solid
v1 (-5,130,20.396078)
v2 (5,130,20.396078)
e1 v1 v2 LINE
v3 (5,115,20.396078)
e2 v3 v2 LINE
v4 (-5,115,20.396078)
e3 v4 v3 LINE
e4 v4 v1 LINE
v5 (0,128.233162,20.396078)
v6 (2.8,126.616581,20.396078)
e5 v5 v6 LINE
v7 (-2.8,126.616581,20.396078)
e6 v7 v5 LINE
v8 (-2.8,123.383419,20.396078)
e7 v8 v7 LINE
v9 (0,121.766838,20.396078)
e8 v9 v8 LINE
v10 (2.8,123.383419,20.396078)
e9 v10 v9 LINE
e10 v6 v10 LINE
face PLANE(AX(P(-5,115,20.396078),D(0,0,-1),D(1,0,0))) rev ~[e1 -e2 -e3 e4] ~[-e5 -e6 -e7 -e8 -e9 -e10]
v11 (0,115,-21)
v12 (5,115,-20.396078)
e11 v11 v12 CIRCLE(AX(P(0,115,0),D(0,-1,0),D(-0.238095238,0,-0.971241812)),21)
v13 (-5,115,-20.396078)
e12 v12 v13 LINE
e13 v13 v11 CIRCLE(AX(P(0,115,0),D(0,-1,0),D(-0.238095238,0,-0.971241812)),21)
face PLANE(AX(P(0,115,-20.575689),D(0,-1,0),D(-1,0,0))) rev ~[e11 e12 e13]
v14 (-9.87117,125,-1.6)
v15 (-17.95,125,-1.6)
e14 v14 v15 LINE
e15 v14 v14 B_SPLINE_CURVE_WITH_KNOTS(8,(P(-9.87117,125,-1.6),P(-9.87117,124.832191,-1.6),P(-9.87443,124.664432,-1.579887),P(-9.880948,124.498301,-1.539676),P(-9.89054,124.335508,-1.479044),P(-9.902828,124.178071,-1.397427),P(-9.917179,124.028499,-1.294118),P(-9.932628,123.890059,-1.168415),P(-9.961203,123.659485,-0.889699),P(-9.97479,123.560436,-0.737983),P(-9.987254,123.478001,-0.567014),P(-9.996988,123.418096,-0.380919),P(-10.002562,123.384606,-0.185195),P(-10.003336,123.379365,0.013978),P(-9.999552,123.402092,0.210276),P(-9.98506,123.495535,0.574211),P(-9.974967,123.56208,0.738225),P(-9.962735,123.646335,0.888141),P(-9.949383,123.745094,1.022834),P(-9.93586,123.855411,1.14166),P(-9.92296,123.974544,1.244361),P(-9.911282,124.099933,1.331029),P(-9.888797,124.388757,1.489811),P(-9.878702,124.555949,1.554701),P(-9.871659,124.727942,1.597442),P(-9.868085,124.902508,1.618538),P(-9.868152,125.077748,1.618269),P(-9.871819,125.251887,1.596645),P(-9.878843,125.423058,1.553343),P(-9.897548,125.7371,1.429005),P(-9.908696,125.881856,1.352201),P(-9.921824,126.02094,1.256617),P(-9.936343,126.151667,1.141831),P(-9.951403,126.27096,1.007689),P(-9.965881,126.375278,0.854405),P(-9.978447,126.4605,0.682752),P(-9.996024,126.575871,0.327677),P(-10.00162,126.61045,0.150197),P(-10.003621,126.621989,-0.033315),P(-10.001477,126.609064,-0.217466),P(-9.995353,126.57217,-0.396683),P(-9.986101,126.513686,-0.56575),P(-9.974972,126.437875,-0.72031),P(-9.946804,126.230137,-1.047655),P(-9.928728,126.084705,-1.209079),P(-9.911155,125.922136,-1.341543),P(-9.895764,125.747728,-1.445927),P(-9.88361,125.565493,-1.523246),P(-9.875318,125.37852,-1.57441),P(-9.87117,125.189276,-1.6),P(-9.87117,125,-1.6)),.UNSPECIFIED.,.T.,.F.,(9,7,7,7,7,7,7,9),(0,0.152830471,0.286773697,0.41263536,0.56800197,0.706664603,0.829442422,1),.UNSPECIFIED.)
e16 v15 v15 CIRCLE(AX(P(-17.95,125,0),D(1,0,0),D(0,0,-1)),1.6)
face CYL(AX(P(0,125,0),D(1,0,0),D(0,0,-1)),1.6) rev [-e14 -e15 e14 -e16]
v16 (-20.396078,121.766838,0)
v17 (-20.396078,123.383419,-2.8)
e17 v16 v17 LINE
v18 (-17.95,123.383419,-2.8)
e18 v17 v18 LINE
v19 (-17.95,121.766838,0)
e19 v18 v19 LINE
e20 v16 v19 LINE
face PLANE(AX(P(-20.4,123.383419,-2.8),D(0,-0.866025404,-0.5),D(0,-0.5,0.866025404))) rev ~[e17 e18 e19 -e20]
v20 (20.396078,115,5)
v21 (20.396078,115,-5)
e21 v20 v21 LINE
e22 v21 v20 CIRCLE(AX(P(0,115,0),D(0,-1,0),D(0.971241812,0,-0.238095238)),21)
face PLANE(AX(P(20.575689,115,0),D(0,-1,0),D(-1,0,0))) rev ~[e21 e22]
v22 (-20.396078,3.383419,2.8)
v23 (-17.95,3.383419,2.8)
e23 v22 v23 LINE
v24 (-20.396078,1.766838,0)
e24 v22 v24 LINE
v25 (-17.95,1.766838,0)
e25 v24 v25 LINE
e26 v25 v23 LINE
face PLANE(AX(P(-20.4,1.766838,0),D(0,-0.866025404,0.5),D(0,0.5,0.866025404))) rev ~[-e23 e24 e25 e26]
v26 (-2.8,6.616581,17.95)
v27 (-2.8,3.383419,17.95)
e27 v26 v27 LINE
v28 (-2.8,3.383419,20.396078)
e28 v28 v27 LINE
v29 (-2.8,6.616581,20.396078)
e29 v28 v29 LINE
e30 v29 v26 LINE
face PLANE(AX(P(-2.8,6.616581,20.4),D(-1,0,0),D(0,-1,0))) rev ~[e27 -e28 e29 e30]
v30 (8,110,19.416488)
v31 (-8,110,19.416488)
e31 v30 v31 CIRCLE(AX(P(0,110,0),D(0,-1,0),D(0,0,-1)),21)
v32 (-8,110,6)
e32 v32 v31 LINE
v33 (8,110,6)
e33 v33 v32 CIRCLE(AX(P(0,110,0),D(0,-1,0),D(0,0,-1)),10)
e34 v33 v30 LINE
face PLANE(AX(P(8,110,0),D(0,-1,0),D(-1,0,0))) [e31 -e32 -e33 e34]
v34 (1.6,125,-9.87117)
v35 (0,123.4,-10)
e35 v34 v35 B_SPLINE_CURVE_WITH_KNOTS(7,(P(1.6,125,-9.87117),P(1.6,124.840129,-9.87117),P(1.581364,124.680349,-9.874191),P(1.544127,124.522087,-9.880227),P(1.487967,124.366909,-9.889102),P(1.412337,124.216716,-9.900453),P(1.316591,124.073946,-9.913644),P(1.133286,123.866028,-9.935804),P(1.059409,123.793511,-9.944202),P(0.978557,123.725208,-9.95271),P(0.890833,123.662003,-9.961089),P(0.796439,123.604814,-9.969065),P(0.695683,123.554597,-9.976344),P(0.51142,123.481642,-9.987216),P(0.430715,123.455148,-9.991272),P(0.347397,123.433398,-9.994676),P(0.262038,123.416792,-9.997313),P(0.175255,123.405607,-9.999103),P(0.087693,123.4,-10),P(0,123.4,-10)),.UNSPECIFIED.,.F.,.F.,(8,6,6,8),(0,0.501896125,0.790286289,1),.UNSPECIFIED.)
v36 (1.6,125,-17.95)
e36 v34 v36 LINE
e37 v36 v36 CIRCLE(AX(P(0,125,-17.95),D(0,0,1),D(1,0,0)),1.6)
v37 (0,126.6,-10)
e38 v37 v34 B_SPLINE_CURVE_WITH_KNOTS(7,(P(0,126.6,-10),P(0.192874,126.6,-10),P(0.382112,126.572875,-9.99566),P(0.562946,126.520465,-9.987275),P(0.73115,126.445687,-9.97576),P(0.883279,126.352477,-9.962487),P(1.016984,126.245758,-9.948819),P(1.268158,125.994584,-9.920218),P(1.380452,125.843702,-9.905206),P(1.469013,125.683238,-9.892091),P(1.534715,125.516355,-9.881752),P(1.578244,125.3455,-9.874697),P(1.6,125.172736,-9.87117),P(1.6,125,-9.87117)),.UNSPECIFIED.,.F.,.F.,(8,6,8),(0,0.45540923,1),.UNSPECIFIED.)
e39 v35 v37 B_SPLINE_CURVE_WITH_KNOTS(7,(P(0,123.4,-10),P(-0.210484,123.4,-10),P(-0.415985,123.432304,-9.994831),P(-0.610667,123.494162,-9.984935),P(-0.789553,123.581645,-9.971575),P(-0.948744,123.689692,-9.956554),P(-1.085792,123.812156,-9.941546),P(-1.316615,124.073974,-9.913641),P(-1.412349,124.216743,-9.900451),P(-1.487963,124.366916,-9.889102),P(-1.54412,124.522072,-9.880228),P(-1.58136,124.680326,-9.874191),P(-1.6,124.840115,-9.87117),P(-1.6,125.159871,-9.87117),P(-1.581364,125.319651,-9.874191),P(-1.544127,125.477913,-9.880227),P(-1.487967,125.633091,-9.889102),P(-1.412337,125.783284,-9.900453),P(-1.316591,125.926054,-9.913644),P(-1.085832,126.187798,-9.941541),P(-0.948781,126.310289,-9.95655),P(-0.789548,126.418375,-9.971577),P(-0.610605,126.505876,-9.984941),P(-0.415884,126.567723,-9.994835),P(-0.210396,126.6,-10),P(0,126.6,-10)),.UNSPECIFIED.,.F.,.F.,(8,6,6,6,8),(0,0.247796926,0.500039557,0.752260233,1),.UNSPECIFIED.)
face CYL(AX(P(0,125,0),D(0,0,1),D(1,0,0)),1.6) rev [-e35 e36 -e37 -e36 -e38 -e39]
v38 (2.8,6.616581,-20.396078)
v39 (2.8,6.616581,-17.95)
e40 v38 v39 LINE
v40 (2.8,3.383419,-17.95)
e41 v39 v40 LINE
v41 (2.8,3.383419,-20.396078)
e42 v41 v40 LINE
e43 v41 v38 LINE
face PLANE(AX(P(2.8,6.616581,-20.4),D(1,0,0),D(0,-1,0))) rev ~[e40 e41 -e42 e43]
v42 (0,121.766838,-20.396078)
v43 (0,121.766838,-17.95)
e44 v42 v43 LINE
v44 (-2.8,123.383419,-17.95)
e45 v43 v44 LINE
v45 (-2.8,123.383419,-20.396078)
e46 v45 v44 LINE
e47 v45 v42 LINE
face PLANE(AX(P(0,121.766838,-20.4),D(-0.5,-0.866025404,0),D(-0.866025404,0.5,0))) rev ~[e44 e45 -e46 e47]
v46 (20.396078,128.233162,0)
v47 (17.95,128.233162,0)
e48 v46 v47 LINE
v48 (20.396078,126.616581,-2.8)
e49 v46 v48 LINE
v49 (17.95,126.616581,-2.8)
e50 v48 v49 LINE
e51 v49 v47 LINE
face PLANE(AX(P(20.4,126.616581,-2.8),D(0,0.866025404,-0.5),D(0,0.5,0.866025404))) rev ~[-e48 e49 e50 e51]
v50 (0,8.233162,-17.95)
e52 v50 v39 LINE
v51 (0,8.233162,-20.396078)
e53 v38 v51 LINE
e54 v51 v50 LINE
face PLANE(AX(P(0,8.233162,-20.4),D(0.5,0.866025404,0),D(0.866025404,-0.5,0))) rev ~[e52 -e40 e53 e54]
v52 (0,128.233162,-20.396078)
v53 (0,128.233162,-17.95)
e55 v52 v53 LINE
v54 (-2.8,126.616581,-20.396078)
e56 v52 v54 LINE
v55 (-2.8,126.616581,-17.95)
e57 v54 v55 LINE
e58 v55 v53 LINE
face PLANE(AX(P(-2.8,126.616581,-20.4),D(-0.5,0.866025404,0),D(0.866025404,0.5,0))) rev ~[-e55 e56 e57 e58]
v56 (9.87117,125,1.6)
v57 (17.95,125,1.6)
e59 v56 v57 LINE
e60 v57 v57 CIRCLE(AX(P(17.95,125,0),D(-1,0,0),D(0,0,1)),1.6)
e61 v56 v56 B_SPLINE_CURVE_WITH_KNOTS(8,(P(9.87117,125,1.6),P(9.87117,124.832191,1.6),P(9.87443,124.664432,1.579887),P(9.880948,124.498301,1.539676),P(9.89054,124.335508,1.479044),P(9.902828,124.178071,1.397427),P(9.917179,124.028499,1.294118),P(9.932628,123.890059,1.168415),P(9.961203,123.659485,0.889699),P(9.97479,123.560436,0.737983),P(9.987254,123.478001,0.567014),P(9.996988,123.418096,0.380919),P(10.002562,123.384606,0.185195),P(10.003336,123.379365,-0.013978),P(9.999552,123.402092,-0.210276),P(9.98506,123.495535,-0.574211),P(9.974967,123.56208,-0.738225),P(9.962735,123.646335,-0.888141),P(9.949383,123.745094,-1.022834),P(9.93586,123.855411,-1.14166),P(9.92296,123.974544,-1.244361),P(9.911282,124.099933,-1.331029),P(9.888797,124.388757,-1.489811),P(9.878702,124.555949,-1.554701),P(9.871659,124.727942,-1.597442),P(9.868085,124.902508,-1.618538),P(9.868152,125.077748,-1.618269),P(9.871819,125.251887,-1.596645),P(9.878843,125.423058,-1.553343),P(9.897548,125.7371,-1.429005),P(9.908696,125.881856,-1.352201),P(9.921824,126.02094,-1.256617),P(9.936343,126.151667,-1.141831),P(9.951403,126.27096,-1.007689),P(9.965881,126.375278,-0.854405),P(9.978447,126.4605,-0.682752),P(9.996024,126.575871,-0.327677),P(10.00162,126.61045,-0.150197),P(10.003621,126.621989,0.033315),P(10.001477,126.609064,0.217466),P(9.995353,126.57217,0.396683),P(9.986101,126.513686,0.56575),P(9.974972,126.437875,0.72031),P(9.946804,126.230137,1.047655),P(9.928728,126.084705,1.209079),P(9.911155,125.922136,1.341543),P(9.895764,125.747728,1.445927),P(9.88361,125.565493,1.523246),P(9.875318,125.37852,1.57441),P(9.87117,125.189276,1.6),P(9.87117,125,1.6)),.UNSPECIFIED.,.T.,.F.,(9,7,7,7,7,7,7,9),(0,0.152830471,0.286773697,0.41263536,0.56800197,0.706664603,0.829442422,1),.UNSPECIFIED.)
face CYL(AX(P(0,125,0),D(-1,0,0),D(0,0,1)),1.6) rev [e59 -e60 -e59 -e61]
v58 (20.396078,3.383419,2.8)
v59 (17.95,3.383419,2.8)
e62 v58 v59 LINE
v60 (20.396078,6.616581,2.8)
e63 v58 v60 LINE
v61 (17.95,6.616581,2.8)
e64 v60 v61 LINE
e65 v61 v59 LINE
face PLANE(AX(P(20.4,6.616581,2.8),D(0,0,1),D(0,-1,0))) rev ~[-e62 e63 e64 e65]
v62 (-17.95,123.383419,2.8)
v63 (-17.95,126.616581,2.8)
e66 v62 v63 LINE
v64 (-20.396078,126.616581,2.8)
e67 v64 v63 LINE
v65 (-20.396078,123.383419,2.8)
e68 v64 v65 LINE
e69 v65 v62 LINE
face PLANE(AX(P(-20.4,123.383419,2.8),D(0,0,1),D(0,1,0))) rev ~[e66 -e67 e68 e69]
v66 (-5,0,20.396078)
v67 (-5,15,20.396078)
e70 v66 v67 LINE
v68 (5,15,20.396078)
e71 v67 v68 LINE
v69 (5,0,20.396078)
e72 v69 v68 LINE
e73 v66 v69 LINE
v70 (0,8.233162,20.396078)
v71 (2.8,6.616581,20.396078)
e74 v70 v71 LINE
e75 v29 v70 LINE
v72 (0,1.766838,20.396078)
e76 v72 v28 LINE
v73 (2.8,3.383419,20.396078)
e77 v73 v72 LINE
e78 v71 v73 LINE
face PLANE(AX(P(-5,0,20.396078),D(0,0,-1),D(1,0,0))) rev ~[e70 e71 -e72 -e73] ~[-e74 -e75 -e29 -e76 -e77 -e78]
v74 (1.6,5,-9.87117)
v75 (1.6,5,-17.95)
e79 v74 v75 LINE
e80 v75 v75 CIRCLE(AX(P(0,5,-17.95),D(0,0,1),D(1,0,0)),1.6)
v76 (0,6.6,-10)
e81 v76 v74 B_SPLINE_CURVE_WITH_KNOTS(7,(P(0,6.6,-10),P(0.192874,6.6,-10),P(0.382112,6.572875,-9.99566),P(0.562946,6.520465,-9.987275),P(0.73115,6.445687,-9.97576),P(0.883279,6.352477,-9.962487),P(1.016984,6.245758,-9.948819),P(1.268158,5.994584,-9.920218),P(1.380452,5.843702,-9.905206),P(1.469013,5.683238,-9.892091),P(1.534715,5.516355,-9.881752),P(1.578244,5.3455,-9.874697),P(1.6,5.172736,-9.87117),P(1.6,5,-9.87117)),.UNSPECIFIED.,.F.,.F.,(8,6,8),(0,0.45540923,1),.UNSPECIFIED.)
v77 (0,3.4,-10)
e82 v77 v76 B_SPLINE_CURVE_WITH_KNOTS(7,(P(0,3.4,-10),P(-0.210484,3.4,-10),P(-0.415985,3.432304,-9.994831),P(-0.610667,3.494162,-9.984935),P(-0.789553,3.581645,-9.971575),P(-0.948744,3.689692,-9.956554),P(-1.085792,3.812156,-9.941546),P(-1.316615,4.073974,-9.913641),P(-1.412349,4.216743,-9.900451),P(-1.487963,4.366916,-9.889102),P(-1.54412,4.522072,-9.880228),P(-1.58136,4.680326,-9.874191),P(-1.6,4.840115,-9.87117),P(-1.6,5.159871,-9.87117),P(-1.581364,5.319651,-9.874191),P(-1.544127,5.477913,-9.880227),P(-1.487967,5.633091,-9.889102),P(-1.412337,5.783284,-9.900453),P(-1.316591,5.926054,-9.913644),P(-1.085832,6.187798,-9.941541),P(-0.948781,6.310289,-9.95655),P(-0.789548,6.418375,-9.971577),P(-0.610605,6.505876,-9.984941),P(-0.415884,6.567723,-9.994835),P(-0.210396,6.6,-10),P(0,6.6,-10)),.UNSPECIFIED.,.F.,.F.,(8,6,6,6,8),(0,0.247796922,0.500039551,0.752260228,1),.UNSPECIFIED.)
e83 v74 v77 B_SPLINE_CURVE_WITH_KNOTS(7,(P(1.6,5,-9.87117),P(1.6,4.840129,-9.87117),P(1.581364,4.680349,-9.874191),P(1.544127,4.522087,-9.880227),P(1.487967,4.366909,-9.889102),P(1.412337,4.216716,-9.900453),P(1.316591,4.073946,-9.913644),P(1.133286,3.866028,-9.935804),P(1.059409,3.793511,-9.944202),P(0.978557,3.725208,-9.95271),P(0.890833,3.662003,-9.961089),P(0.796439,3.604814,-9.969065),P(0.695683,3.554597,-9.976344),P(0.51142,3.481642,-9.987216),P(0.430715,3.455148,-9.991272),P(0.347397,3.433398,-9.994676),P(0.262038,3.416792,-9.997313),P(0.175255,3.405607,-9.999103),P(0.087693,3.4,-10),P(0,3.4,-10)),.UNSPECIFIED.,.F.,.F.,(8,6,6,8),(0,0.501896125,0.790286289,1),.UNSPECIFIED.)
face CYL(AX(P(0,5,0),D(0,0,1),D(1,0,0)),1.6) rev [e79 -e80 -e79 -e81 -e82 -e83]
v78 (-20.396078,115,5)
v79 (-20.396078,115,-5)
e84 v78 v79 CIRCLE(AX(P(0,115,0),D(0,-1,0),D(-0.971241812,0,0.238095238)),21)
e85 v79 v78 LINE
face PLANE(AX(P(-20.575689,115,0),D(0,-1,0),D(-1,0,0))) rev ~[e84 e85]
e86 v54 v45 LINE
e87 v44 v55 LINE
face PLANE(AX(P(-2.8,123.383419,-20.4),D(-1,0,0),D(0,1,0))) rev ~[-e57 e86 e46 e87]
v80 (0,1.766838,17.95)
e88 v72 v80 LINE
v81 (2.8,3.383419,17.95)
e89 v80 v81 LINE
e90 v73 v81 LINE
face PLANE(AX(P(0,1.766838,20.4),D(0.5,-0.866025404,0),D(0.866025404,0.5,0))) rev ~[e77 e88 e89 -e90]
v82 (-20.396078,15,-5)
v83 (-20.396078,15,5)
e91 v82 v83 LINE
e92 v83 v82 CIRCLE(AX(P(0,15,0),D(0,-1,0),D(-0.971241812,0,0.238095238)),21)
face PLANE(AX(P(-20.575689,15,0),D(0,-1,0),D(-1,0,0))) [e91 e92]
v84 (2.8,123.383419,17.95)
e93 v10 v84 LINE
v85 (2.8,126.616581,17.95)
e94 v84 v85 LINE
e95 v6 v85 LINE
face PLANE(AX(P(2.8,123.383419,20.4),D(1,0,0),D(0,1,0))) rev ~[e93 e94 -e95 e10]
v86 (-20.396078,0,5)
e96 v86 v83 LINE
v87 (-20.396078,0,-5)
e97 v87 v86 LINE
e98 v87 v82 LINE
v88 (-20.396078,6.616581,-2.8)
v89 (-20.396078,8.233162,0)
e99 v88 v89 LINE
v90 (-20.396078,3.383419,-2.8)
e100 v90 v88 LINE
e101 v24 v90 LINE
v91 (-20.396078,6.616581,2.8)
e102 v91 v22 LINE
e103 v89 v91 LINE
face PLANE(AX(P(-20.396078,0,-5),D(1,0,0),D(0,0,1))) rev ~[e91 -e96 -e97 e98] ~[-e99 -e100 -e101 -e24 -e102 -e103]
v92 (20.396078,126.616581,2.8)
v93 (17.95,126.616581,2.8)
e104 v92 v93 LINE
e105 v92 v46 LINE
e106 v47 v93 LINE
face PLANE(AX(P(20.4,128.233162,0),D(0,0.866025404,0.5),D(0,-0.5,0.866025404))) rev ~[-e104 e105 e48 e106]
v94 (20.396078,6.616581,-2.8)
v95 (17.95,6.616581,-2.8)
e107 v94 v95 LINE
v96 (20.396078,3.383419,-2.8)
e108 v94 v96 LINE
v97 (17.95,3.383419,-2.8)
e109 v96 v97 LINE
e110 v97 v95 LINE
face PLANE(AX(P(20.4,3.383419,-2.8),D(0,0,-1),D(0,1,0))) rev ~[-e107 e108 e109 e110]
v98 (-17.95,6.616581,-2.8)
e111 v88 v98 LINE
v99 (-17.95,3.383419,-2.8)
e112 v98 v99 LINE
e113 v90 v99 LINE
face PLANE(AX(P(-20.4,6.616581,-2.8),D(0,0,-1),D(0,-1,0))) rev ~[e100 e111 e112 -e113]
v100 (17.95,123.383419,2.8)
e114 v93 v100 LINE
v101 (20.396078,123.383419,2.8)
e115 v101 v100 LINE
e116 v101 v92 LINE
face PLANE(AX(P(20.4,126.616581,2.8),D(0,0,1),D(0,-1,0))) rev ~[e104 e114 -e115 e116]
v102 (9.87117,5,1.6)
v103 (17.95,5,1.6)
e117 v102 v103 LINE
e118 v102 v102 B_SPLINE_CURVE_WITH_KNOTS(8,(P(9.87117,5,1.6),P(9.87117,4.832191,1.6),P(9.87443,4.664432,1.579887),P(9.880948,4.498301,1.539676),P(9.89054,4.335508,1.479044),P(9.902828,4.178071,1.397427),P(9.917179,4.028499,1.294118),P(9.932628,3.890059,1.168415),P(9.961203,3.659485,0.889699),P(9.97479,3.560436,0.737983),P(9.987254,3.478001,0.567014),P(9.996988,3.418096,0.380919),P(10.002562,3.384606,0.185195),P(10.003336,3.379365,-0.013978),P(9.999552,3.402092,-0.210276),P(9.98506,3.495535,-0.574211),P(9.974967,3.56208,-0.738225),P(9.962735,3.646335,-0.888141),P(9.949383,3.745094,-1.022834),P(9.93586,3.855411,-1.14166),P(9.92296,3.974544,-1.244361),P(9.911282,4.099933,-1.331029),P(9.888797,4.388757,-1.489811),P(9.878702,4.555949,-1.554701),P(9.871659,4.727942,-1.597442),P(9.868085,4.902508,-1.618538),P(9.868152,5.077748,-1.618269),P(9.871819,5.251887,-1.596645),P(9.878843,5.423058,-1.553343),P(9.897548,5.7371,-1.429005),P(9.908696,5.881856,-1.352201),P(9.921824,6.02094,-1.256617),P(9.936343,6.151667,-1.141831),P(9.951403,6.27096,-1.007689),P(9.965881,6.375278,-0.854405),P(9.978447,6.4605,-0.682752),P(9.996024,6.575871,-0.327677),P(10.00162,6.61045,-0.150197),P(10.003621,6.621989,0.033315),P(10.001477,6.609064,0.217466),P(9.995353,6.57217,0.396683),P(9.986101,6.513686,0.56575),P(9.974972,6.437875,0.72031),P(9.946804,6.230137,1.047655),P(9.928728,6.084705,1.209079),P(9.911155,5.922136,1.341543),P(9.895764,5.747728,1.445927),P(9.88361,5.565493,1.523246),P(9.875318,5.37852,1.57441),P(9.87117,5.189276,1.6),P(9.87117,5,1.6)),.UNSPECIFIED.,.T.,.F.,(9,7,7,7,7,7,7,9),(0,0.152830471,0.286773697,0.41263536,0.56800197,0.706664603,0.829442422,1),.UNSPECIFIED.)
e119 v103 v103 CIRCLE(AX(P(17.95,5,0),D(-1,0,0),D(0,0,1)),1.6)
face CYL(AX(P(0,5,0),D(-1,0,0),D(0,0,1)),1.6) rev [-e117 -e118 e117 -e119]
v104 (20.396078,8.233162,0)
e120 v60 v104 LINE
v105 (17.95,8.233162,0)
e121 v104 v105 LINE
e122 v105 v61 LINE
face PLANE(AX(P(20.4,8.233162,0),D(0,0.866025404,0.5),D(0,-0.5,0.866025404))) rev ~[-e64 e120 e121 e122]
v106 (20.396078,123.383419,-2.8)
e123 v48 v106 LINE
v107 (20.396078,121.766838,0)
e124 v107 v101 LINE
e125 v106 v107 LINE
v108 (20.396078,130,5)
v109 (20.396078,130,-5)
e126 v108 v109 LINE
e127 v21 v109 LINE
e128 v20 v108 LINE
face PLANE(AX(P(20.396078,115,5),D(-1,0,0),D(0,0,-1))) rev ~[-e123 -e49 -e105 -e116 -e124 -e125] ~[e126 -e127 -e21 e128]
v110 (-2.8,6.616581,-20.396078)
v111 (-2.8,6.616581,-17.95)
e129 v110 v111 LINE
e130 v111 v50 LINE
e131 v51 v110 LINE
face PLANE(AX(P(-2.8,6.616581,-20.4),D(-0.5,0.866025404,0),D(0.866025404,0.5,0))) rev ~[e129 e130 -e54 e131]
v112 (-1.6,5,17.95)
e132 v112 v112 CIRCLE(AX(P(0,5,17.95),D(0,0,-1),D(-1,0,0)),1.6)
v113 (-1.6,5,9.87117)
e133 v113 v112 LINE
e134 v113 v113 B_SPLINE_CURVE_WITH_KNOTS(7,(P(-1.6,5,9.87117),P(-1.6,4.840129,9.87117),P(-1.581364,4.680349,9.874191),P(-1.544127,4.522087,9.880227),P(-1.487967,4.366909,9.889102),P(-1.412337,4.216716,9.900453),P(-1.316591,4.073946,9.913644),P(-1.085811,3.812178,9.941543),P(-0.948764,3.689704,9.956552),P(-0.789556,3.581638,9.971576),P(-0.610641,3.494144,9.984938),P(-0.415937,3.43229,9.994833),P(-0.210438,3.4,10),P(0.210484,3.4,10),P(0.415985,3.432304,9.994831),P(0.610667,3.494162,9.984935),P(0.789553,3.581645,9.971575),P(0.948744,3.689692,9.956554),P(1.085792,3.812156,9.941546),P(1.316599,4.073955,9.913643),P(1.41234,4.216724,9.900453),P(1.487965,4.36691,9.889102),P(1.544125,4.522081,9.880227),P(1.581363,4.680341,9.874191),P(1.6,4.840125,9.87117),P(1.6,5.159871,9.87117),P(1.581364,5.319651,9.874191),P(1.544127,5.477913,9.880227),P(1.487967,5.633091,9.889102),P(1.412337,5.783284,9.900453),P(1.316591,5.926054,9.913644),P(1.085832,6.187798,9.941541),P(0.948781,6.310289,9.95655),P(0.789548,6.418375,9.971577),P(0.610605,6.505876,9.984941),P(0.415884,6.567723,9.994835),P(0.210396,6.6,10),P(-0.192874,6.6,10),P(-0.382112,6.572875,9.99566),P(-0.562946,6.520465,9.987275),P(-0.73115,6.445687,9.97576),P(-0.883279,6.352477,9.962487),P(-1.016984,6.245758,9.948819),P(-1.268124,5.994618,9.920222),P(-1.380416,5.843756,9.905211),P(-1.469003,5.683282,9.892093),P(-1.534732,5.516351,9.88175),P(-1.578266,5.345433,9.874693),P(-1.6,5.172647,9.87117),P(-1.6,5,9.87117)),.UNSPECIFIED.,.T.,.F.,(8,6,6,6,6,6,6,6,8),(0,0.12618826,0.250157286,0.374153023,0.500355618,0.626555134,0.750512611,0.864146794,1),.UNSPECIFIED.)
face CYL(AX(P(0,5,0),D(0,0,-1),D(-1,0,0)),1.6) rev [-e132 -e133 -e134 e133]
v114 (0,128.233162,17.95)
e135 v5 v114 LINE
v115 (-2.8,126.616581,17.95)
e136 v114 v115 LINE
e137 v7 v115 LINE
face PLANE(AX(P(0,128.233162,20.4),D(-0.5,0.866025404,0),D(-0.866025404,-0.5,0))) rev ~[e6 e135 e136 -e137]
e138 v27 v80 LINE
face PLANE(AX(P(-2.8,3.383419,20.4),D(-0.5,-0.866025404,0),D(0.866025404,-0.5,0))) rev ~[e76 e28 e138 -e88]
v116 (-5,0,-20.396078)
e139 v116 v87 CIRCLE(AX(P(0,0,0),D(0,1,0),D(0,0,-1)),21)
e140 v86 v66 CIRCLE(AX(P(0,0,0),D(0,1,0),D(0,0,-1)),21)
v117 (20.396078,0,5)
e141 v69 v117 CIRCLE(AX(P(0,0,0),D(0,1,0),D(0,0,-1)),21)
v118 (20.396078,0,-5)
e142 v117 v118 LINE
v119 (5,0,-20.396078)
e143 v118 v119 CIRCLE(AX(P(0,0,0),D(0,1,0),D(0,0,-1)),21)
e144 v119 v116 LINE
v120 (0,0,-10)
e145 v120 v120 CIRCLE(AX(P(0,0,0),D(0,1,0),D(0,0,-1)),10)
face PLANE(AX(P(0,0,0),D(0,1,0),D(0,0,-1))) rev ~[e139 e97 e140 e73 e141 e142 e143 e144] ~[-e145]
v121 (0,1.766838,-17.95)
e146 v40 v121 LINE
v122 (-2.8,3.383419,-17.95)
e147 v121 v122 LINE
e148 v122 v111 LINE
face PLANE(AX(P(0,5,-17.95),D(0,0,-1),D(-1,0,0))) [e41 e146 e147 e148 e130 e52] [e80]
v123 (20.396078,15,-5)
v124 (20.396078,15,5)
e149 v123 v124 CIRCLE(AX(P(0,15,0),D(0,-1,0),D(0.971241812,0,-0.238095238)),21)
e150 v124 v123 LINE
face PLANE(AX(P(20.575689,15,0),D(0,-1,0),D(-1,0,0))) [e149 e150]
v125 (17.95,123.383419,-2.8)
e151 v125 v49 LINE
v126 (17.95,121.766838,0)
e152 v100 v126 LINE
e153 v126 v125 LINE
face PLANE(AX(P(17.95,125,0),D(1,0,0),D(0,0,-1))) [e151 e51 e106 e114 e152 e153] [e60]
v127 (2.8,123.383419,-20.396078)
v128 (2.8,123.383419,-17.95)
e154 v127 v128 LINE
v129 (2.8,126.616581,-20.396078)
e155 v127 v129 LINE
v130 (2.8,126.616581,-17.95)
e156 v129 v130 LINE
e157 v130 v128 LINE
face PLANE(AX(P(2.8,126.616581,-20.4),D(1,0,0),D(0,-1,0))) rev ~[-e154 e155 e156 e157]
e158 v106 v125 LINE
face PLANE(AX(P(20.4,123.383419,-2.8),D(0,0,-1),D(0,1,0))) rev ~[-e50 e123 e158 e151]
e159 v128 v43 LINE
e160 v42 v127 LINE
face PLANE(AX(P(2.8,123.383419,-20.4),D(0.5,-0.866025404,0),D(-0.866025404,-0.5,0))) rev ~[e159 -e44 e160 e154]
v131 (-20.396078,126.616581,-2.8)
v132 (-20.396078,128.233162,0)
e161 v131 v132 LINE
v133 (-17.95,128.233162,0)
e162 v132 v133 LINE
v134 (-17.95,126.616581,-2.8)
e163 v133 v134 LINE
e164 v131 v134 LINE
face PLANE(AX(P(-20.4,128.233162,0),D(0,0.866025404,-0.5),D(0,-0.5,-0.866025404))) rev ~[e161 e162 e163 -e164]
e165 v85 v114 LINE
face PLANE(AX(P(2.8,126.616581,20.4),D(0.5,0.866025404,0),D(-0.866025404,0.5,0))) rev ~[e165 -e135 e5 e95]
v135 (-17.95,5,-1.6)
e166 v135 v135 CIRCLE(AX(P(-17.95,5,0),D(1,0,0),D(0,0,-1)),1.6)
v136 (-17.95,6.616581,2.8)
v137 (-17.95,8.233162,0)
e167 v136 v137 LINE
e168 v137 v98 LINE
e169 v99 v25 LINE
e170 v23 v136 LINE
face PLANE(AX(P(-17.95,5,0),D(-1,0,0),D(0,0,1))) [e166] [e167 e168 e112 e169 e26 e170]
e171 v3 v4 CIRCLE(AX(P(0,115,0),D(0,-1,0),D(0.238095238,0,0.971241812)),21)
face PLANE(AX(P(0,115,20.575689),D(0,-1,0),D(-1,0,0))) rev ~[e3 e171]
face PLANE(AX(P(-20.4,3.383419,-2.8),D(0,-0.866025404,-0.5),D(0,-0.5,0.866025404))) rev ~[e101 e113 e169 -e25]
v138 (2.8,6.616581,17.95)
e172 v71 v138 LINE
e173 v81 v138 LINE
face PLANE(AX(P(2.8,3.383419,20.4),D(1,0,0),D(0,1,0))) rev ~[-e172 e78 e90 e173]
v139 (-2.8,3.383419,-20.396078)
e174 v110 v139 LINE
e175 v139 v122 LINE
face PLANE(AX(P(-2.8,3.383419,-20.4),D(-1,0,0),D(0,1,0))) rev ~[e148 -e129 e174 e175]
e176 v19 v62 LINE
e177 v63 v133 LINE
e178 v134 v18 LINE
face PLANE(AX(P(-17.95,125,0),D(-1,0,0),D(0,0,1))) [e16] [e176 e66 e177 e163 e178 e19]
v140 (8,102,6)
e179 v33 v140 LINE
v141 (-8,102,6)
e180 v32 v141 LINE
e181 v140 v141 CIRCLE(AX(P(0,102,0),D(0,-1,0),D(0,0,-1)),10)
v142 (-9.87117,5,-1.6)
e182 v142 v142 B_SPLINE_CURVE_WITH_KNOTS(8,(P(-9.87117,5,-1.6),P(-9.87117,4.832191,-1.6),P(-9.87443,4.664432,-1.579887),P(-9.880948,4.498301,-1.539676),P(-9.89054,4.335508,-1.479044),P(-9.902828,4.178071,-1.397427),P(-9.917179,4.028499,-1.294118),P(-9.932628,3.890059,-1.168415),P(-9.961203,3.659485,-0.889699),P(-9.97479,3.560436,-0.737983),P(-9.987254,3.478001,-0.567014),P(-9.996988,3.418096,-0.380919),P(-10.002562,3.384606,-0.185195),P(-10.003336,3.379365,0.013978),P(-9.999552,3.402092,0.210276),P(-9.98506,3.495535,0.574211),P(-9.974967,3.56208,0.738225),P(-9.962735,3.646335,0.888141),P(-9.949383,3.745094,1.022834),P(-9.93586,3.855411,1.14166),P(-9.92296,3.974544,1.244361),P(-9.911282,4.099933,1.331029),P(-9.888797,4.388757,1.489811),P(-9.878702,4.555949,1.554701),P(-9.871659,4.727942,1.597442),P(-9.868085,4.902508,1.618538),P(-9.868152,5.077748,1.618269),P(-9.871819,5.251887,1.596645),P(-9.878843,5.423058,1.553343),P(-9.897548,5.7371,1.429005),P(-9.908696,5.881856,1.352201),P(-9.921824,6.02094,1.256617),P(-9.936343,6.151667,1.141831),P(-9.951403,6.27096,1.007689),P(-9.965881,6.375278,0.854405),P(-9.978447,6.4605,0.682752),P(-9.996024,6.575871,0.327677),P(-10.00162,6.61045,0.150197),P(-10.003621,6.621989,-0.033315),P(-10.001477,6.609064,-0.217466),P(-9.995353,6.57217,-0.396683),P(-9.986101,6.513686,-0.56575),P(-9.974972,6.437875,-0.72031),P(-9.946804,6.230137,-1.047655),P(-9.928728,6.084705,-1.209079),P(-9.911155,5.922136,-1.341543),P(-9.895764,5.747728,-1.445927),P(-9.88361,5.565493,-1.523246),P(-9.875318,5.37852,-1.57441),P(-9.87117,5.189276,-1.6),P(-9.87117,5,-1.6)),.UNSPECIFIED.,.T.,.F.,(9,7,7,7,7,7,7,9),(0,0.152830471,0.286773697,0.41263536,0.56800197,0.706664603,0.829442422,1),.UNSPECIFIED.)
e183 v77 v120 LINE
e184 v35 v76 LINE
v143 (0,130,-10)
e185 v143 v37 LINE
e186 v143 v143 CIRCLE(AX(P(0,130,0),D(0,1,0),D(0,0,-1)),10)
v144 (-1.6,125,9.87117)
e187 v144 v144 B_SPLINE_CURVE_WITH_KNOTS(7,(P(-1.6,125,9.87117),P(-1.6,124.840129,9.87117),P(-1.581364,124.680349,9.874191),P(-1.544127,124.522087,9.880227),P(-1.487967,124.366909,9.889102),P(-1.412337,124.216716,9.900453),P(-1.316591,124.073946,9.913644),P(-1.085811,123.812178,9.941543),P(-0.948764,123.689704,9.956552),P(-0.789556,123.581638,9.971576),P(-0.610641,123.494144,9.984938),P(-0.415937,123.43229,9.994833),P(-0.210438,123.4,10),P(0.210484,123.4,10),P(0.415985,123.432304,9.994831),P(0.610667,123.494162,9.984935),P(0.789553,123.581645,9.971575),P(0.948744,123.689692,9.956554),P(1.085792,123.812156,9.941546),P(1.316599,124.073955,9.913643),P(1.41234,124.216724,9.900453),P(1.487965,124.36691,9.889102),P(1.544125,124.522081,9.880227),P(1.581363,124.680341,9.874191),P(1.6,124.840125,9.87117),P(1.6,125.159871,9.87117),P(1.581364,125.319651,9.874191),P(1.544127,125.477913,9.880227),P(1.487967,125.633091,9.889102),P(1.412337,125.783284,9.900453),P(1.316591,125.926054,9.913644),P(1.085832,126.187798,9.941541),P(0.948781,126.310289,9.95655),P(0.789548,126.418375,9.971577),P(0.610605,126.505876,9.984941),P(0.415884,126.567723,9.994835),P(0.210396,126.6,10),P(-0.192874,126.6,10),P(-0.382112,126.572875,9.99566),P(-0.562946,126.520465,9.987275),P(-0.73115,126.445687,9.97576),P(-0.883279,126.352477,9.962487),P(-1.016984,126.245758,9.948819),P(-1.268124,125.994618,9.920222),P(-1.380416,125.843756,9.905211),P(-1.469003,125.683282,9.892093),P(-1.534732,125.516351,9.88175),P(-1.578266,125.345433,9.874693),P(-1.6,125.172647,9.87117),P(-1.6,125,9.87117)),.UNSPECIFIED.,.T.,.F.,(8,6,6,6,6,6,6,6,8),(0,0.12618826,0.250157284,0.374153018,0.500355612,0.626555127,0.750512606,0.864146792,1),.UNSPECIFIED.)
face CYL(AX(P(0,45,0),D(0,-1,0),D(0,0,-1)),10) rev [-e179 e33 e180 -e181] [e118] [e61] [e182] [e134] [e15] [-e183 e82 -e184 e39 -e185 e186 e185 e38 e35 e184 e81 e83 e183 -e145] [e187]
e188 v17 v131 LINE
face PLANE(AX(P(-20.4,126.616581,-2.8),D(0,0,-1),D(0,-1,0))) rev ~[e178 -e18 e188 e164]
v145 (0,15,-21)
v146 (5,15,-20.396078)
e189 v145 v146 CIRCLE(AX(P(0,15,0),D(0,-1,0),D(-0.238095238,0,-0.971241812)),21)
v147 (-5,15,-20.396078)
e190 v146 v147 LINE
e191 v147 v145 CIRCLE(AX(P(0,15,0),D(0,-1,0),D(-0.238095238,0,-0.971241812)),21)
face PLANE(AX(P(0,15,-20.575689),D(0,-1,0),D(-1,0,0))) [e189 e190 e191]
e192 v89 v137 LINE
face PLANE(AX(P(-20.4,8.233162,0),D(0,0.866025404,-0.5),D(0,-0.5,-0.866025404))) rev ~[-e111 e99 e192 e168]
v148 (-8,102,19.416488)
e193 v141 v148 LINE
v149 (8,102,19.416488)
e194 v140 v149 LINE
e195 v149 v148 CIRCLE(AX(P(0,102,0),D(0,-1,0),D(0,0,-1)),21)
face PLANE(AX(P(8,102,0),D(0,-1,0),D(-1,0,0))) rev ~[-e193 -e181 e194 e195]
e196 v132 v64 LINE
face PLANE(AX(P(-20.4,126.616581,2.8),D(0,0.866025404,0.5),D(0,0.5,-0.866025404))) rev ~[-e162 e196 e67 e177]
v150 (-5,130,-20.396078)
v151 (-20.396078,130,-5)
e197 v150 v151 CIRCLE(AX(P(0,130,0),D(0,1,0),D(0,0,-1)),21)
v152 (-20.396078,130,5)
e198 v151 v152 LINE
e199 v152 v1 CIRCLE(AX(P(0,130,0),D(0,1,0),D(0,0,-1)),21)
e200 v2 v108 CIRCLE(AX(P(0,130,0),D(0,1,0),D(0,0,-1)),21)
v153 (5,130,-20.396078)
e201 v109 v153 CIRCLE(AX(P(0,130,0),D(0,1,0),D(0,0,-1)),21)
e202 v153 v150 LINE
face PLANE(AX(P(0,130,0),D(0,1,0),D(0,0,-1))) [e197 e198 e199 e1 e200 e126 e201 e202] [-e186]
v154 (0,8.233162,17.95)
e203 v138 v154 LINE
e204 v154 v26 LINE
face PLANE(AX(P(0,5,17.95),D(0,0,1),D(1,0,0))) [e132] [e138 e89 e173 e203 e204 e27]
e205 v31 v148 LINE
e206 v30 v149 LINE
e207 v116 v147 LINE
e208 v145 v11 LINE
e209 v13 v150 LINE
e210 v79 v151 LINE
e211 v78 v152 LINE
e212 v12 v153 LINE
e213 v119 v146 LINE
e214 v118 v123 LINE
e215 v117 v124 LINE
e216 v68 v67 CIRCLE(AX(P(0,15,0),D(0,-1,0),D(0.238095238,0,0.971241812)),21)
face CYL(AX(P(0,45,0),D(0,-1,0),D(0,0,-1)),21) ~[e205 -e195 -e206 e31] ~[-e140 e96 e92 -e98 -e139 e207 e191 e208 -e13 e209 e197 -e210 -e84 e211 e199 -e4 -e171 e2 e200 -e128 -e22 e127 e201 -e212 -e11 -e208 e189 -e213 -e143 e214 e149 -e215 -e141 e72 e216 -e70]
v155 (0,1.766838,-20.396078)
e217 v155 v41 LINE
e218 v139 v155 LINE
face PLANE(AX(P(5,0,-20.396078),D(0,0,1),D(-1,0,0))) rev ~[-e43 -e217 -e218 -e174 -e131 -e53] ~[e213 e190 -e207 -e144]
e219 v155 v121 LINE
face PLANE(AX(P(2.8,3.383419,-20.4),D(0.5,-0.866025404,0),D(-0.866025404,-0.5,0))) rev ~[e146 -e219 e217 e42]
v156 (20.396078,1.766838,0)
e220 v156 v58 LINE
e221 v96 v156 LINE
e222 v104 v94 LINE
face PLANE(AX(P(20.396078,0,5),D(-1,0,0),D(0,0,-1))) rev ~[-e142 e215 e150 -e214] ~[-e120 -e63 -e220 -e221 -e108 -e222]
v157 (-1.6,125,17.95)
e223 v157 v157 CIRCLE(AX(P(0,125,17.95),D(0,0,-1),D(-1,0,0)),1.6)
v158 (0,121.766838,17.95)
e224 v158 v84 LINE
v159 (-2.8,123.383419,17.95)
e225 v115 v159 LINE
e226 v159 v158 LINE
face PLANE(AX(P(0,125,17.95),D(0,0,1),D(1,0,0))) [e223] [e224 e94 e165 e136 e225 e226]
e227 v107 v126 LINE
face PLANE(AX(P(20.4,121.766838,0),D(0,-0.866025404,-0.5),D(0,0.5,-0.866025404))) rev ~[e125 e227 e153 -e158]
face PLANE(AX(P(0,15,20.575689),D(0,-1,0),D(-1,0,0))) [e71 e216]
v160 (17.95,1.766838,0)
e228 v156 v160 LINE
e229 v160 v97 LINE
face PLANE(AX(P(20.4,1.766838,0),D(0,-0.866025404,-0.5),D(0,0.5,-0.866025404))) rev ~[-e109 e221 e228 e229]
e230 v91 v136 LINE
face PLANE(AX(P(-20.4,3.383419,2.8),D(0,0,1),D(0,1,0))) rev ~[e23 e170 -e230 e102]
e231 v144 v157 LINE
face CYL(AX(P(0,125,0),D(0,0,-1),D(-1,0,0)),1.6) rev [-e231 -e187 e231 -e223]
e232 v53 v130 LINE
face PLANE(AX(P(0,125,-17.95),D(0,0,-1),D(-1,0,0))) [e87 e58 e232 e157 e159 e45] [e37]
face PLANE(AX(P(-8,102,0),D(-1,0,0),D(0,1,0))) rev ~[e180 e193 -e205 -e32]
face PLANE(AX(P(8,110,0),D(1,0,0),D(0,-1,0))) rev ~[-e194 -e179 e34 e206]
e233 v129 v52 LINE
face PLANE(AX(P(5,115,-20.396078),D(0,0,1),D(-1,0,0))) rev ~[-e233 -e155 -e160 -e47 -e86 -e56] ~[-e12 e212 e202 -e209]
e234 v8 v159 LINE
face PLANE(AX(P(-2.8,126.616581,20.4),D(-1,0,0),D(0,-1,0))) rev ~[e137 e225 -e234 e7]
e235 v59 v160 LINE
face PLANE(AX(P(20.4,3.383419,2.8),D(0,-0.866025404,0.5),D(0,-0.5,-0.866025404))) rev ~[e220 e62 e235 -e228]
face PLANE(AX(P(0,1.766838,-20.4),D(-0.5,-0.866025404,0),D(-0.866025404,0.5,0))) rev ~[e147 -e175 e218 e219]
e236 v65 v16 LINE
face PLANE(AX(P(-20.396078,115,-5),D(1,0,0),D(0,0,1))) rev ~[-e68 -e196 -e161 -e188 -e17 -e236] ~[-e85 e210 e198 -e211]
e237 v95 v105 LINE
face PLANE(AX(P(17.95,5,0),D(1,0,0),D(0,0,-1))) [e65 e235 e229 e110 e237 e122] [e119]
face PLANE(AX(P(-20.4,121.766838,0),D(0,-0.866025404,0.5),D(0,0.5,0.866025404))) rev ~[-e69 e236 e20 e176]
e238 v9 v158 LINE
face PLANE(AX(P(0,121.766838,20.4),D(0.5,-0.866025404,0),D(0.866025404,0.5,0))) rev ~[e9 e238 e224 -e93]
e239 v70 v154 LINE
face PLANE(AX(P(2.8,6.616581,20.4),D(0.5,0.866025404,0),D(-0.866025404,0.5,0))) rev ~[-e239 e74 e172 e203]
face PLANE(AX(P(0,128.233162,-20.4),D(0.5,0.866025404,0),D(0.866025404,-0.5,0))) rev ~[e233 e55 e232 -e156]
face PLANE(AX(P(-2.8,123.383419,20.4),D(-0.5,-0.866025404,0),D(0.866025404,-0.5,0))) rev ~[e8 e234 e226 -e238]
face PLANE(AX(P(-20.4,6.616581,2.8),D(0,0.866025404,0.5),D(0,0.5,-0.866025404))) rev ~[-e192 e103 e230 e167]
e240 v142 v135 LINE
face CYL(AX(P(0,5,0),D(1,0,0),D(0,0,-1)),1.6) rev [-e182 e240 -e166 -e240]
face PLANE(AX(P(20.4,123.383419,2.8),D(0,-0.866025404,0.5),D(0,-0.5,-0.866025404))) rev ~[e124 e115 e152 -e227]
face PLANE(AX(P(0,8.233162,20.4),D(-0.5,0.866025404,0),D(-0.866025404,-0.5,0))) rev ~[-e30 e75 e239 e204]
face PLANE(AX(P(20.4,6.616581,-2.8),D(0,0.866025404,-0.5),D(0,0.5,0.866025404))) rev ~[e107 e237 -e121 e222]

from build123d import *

# Parameters (mm, degrees)
SKETCH_1_R               = 21
SKETCH_1_R_2             = 10
EXTRUDE_1_DEPTH          = 45
SKETCH_4_R               = 21
SKETCH_4_R_2             = 10
EXTRUDE_2_DEPTH          = 85
CUT_EXTRUDE_3_DEPTH      = 15
CUT_EXTRUDE_START        = -15
CUT_EXTRUDE_4_DEPTH      = 15
CUT_EXTRUDE_6_DEPTH      = 25
CUT_EXTRUDE_START_2      = 20.4
CUT_EXTRUDE_7_DEPTH      = 2.45
PATTERN_CIRCULAR_1_COUNT = 4
SKETCH_14_R              = 1.6
CUT_EXTRUDE_8_DEPTH      = 22.45
PATTERN_CIRCULAR_2_COUNT = 4


with BuildPart() as part:
    # 草图1 → 凸台-拉伸1 (new body)
    with BuildSketch(Plane(origin=(0, 0, 0), x_dir=(1, 0, 0), z_dir=(0, 1, 0))):
        with Locations(Location((0, 0, 0), (0, 0, 90))):
            Circle(SKETCH_1_R)
        with Locations(Location((0, 0, 0), (0, 0, 90))):
            Circle(SKETCH_1_R_2, mode=Mode.SUBTRACT)
    extrude(amount=EXTRUDE_1_DEPTH)

    # 草图4 → 凸台-拉伸2 (add)
    with BuildSketch(Plane(origin=(0, 45, 0), x_dir=(1, 0, 0), z_dir=(0, 1, 0))):
        with Locations(Location((0, 0, 0), (0, 0, 90))):
            Circle(SKETCH_4_R)
        with Locations(Location((0, 0, 0), (0, 0, 90))):
            Circle(SKETCH_4_R_2, mode=Mode.SUBTRACT)
    extrude(amount=EXTRUDE_2_DEPTH)

    # 草图11 → 切除-拉伸3 (cut)
    with BuildSketch(Plane(origin=(0, 0, 0), x_dir=(1, 0, 0), z_dir=(0, 1, 0))):
        with BuildLine():
            Line((-20.396078054, 5), (-20.396078054, -5))
            ThreePointArc((-20.396078054, -5), (-21, 0), (-20.396078054, 5))
        make_face()
        with BuildLine():
            Line((-5, -20.396078054), (5, -20.396078054))
            ThreePointArc((5, -20.396078054), (0, -21), (-5, -20.396078054))
        make_face()
        with BuildLine():
            Line((20.396078054, -5), (20.396078054, 5))
            ThreePointArc((20.396078054, 5), (21, 0), (20.396078054, -5))
        make_face()
        with BuildLine():
            Line((5, 20.396078054), (-5, 20.396078054))
            ThreePointArc((-5, 20.396078054), (0, 21), (5, 20.396078054))
        make_face()
    extrude(amount=CUT_EXTRUDE_3_DEPTH, mode=Mode.SUBTRACT)

    # 草图5 → 切除-拉伸4 (cut)
    with BuildSketch(Plane(origin=(0, 130, 0), x_dir=(1, 0, 0), z_dir=(0, 1, 0)).offset(CUT_EXTRUDE_START)):
        with BuildLine():
            Line((-20.396078054, 5), (-20.396078054, -5))
            ThreePointArc((-20.396078054, -5), (-21, 0), (-20.396078054, 5))
        make_face()
        with BuildLine():
            Line((-5, -20.396078054), (5, -20.396078054))
            ThreePointArc((5, -20.396078054), (0, -21), (-5, -20.396078054))
        make_face()
        with BuildLine():
            Line((20.396078054, -5), (20.396078054, 5))
            ThreePointArc((20.396078054, 5), (21, 0), (20.396078054, -5))
        make_face()
        with BuildLine():
            Line((5, 20.396078054), (-5, 20.396078054))
            ThreePointArc((-5, 20.396078054), (0, 21), (5, 20.396078054))
        make_face()
    extrude(amount=CUT_EXTRUDE_4_DEPTH, mode=Mode.SUBTRACT)

    # 草图12 → 切除-拉伸6 (cut)
    with BuildSketch(Plane.XY):
        Polygon((0, 110), (8, 110), (8, 102), (-8, 102), (-8, 110), align=None)
    extrude(amount=CUT_EXTRUDE_6_DEPTH, mode=Mode.SUBTRACT)

    # 草图13 → 切除-拉伸7 (cut)
    with BuildSketch(Plane(origin=(0, 0, 0), x_dir=(0, 0, -1), z_dir=(1, 0, 0)).offset(CUT_EXTRUDE_START_2)):
        Polygon((0, 128.233161507), (-2.8, 126.616580754), (-2.8, 123.383419246), (0, 121.766838493), (2.8, 123.383419246), (2.8, 126.616580754), align=None)
        Polygon((0, 8.233161507), (-2.8, 6.616580754), (-2.8, 3.383419246), (0, 1.766838493), (2.8, 3.383419246), (2.8, 6.616580754), align=None)
    cut_extrude_7 = extrude(amount=-CUT_EXTRUDE_7_DEPTH, mode=Mode.SUBTRACT)

    # 阵列(圆周)1: 切除-拉伸7 ×4 about axis
    pattern_circular_1_axis = Axis((0, 0, 0), (0, 1, 0))
    for i in range(1, PATTERN_CIRCULAR_1_COUNT):
        add(cut_extrude_7.rotate(pattern_circular_1_axis, i * 360 / PATTERN_CIRCULAR_1_COUNT), mode=Mode.SUBTRACT)

    # 草图14 → 切除-拉伸8 (cut)
    with BuildSketch(Plane(origin=(0, 0, 0), x_dir=(0, 0, -1), z_dir=(1, 0, 0))):
        with Locations(Location((0, 125, 0), (0, 0, 180))):
            Circle(SKETCH_14_R)
        with Locations(Location((0, 5, 0), (0, 0, 180))):
            Circle(SKETCH_14_R)
    cut_extrude_8 = extrude(amount=CUT_EXTRUDE_8_DEPTH, mode=Mode.SUBTRACT)

    # 阵列(圆周)2: 切除-拉伸8 ×4 about axis
    pattern_circular_2_axis = Axis((0, 45, 0), (0, -1, 0))
    for i in range(1, PATTERN_CIRCULAR_2_COUNT):
        add(cut_extrude_8.rotate(pattern_circular_2_axis, i * 360 / PATTERN_CIRCULAR_2_COUNT), mode=Mode.SUBTRACT)


solid = part.part
